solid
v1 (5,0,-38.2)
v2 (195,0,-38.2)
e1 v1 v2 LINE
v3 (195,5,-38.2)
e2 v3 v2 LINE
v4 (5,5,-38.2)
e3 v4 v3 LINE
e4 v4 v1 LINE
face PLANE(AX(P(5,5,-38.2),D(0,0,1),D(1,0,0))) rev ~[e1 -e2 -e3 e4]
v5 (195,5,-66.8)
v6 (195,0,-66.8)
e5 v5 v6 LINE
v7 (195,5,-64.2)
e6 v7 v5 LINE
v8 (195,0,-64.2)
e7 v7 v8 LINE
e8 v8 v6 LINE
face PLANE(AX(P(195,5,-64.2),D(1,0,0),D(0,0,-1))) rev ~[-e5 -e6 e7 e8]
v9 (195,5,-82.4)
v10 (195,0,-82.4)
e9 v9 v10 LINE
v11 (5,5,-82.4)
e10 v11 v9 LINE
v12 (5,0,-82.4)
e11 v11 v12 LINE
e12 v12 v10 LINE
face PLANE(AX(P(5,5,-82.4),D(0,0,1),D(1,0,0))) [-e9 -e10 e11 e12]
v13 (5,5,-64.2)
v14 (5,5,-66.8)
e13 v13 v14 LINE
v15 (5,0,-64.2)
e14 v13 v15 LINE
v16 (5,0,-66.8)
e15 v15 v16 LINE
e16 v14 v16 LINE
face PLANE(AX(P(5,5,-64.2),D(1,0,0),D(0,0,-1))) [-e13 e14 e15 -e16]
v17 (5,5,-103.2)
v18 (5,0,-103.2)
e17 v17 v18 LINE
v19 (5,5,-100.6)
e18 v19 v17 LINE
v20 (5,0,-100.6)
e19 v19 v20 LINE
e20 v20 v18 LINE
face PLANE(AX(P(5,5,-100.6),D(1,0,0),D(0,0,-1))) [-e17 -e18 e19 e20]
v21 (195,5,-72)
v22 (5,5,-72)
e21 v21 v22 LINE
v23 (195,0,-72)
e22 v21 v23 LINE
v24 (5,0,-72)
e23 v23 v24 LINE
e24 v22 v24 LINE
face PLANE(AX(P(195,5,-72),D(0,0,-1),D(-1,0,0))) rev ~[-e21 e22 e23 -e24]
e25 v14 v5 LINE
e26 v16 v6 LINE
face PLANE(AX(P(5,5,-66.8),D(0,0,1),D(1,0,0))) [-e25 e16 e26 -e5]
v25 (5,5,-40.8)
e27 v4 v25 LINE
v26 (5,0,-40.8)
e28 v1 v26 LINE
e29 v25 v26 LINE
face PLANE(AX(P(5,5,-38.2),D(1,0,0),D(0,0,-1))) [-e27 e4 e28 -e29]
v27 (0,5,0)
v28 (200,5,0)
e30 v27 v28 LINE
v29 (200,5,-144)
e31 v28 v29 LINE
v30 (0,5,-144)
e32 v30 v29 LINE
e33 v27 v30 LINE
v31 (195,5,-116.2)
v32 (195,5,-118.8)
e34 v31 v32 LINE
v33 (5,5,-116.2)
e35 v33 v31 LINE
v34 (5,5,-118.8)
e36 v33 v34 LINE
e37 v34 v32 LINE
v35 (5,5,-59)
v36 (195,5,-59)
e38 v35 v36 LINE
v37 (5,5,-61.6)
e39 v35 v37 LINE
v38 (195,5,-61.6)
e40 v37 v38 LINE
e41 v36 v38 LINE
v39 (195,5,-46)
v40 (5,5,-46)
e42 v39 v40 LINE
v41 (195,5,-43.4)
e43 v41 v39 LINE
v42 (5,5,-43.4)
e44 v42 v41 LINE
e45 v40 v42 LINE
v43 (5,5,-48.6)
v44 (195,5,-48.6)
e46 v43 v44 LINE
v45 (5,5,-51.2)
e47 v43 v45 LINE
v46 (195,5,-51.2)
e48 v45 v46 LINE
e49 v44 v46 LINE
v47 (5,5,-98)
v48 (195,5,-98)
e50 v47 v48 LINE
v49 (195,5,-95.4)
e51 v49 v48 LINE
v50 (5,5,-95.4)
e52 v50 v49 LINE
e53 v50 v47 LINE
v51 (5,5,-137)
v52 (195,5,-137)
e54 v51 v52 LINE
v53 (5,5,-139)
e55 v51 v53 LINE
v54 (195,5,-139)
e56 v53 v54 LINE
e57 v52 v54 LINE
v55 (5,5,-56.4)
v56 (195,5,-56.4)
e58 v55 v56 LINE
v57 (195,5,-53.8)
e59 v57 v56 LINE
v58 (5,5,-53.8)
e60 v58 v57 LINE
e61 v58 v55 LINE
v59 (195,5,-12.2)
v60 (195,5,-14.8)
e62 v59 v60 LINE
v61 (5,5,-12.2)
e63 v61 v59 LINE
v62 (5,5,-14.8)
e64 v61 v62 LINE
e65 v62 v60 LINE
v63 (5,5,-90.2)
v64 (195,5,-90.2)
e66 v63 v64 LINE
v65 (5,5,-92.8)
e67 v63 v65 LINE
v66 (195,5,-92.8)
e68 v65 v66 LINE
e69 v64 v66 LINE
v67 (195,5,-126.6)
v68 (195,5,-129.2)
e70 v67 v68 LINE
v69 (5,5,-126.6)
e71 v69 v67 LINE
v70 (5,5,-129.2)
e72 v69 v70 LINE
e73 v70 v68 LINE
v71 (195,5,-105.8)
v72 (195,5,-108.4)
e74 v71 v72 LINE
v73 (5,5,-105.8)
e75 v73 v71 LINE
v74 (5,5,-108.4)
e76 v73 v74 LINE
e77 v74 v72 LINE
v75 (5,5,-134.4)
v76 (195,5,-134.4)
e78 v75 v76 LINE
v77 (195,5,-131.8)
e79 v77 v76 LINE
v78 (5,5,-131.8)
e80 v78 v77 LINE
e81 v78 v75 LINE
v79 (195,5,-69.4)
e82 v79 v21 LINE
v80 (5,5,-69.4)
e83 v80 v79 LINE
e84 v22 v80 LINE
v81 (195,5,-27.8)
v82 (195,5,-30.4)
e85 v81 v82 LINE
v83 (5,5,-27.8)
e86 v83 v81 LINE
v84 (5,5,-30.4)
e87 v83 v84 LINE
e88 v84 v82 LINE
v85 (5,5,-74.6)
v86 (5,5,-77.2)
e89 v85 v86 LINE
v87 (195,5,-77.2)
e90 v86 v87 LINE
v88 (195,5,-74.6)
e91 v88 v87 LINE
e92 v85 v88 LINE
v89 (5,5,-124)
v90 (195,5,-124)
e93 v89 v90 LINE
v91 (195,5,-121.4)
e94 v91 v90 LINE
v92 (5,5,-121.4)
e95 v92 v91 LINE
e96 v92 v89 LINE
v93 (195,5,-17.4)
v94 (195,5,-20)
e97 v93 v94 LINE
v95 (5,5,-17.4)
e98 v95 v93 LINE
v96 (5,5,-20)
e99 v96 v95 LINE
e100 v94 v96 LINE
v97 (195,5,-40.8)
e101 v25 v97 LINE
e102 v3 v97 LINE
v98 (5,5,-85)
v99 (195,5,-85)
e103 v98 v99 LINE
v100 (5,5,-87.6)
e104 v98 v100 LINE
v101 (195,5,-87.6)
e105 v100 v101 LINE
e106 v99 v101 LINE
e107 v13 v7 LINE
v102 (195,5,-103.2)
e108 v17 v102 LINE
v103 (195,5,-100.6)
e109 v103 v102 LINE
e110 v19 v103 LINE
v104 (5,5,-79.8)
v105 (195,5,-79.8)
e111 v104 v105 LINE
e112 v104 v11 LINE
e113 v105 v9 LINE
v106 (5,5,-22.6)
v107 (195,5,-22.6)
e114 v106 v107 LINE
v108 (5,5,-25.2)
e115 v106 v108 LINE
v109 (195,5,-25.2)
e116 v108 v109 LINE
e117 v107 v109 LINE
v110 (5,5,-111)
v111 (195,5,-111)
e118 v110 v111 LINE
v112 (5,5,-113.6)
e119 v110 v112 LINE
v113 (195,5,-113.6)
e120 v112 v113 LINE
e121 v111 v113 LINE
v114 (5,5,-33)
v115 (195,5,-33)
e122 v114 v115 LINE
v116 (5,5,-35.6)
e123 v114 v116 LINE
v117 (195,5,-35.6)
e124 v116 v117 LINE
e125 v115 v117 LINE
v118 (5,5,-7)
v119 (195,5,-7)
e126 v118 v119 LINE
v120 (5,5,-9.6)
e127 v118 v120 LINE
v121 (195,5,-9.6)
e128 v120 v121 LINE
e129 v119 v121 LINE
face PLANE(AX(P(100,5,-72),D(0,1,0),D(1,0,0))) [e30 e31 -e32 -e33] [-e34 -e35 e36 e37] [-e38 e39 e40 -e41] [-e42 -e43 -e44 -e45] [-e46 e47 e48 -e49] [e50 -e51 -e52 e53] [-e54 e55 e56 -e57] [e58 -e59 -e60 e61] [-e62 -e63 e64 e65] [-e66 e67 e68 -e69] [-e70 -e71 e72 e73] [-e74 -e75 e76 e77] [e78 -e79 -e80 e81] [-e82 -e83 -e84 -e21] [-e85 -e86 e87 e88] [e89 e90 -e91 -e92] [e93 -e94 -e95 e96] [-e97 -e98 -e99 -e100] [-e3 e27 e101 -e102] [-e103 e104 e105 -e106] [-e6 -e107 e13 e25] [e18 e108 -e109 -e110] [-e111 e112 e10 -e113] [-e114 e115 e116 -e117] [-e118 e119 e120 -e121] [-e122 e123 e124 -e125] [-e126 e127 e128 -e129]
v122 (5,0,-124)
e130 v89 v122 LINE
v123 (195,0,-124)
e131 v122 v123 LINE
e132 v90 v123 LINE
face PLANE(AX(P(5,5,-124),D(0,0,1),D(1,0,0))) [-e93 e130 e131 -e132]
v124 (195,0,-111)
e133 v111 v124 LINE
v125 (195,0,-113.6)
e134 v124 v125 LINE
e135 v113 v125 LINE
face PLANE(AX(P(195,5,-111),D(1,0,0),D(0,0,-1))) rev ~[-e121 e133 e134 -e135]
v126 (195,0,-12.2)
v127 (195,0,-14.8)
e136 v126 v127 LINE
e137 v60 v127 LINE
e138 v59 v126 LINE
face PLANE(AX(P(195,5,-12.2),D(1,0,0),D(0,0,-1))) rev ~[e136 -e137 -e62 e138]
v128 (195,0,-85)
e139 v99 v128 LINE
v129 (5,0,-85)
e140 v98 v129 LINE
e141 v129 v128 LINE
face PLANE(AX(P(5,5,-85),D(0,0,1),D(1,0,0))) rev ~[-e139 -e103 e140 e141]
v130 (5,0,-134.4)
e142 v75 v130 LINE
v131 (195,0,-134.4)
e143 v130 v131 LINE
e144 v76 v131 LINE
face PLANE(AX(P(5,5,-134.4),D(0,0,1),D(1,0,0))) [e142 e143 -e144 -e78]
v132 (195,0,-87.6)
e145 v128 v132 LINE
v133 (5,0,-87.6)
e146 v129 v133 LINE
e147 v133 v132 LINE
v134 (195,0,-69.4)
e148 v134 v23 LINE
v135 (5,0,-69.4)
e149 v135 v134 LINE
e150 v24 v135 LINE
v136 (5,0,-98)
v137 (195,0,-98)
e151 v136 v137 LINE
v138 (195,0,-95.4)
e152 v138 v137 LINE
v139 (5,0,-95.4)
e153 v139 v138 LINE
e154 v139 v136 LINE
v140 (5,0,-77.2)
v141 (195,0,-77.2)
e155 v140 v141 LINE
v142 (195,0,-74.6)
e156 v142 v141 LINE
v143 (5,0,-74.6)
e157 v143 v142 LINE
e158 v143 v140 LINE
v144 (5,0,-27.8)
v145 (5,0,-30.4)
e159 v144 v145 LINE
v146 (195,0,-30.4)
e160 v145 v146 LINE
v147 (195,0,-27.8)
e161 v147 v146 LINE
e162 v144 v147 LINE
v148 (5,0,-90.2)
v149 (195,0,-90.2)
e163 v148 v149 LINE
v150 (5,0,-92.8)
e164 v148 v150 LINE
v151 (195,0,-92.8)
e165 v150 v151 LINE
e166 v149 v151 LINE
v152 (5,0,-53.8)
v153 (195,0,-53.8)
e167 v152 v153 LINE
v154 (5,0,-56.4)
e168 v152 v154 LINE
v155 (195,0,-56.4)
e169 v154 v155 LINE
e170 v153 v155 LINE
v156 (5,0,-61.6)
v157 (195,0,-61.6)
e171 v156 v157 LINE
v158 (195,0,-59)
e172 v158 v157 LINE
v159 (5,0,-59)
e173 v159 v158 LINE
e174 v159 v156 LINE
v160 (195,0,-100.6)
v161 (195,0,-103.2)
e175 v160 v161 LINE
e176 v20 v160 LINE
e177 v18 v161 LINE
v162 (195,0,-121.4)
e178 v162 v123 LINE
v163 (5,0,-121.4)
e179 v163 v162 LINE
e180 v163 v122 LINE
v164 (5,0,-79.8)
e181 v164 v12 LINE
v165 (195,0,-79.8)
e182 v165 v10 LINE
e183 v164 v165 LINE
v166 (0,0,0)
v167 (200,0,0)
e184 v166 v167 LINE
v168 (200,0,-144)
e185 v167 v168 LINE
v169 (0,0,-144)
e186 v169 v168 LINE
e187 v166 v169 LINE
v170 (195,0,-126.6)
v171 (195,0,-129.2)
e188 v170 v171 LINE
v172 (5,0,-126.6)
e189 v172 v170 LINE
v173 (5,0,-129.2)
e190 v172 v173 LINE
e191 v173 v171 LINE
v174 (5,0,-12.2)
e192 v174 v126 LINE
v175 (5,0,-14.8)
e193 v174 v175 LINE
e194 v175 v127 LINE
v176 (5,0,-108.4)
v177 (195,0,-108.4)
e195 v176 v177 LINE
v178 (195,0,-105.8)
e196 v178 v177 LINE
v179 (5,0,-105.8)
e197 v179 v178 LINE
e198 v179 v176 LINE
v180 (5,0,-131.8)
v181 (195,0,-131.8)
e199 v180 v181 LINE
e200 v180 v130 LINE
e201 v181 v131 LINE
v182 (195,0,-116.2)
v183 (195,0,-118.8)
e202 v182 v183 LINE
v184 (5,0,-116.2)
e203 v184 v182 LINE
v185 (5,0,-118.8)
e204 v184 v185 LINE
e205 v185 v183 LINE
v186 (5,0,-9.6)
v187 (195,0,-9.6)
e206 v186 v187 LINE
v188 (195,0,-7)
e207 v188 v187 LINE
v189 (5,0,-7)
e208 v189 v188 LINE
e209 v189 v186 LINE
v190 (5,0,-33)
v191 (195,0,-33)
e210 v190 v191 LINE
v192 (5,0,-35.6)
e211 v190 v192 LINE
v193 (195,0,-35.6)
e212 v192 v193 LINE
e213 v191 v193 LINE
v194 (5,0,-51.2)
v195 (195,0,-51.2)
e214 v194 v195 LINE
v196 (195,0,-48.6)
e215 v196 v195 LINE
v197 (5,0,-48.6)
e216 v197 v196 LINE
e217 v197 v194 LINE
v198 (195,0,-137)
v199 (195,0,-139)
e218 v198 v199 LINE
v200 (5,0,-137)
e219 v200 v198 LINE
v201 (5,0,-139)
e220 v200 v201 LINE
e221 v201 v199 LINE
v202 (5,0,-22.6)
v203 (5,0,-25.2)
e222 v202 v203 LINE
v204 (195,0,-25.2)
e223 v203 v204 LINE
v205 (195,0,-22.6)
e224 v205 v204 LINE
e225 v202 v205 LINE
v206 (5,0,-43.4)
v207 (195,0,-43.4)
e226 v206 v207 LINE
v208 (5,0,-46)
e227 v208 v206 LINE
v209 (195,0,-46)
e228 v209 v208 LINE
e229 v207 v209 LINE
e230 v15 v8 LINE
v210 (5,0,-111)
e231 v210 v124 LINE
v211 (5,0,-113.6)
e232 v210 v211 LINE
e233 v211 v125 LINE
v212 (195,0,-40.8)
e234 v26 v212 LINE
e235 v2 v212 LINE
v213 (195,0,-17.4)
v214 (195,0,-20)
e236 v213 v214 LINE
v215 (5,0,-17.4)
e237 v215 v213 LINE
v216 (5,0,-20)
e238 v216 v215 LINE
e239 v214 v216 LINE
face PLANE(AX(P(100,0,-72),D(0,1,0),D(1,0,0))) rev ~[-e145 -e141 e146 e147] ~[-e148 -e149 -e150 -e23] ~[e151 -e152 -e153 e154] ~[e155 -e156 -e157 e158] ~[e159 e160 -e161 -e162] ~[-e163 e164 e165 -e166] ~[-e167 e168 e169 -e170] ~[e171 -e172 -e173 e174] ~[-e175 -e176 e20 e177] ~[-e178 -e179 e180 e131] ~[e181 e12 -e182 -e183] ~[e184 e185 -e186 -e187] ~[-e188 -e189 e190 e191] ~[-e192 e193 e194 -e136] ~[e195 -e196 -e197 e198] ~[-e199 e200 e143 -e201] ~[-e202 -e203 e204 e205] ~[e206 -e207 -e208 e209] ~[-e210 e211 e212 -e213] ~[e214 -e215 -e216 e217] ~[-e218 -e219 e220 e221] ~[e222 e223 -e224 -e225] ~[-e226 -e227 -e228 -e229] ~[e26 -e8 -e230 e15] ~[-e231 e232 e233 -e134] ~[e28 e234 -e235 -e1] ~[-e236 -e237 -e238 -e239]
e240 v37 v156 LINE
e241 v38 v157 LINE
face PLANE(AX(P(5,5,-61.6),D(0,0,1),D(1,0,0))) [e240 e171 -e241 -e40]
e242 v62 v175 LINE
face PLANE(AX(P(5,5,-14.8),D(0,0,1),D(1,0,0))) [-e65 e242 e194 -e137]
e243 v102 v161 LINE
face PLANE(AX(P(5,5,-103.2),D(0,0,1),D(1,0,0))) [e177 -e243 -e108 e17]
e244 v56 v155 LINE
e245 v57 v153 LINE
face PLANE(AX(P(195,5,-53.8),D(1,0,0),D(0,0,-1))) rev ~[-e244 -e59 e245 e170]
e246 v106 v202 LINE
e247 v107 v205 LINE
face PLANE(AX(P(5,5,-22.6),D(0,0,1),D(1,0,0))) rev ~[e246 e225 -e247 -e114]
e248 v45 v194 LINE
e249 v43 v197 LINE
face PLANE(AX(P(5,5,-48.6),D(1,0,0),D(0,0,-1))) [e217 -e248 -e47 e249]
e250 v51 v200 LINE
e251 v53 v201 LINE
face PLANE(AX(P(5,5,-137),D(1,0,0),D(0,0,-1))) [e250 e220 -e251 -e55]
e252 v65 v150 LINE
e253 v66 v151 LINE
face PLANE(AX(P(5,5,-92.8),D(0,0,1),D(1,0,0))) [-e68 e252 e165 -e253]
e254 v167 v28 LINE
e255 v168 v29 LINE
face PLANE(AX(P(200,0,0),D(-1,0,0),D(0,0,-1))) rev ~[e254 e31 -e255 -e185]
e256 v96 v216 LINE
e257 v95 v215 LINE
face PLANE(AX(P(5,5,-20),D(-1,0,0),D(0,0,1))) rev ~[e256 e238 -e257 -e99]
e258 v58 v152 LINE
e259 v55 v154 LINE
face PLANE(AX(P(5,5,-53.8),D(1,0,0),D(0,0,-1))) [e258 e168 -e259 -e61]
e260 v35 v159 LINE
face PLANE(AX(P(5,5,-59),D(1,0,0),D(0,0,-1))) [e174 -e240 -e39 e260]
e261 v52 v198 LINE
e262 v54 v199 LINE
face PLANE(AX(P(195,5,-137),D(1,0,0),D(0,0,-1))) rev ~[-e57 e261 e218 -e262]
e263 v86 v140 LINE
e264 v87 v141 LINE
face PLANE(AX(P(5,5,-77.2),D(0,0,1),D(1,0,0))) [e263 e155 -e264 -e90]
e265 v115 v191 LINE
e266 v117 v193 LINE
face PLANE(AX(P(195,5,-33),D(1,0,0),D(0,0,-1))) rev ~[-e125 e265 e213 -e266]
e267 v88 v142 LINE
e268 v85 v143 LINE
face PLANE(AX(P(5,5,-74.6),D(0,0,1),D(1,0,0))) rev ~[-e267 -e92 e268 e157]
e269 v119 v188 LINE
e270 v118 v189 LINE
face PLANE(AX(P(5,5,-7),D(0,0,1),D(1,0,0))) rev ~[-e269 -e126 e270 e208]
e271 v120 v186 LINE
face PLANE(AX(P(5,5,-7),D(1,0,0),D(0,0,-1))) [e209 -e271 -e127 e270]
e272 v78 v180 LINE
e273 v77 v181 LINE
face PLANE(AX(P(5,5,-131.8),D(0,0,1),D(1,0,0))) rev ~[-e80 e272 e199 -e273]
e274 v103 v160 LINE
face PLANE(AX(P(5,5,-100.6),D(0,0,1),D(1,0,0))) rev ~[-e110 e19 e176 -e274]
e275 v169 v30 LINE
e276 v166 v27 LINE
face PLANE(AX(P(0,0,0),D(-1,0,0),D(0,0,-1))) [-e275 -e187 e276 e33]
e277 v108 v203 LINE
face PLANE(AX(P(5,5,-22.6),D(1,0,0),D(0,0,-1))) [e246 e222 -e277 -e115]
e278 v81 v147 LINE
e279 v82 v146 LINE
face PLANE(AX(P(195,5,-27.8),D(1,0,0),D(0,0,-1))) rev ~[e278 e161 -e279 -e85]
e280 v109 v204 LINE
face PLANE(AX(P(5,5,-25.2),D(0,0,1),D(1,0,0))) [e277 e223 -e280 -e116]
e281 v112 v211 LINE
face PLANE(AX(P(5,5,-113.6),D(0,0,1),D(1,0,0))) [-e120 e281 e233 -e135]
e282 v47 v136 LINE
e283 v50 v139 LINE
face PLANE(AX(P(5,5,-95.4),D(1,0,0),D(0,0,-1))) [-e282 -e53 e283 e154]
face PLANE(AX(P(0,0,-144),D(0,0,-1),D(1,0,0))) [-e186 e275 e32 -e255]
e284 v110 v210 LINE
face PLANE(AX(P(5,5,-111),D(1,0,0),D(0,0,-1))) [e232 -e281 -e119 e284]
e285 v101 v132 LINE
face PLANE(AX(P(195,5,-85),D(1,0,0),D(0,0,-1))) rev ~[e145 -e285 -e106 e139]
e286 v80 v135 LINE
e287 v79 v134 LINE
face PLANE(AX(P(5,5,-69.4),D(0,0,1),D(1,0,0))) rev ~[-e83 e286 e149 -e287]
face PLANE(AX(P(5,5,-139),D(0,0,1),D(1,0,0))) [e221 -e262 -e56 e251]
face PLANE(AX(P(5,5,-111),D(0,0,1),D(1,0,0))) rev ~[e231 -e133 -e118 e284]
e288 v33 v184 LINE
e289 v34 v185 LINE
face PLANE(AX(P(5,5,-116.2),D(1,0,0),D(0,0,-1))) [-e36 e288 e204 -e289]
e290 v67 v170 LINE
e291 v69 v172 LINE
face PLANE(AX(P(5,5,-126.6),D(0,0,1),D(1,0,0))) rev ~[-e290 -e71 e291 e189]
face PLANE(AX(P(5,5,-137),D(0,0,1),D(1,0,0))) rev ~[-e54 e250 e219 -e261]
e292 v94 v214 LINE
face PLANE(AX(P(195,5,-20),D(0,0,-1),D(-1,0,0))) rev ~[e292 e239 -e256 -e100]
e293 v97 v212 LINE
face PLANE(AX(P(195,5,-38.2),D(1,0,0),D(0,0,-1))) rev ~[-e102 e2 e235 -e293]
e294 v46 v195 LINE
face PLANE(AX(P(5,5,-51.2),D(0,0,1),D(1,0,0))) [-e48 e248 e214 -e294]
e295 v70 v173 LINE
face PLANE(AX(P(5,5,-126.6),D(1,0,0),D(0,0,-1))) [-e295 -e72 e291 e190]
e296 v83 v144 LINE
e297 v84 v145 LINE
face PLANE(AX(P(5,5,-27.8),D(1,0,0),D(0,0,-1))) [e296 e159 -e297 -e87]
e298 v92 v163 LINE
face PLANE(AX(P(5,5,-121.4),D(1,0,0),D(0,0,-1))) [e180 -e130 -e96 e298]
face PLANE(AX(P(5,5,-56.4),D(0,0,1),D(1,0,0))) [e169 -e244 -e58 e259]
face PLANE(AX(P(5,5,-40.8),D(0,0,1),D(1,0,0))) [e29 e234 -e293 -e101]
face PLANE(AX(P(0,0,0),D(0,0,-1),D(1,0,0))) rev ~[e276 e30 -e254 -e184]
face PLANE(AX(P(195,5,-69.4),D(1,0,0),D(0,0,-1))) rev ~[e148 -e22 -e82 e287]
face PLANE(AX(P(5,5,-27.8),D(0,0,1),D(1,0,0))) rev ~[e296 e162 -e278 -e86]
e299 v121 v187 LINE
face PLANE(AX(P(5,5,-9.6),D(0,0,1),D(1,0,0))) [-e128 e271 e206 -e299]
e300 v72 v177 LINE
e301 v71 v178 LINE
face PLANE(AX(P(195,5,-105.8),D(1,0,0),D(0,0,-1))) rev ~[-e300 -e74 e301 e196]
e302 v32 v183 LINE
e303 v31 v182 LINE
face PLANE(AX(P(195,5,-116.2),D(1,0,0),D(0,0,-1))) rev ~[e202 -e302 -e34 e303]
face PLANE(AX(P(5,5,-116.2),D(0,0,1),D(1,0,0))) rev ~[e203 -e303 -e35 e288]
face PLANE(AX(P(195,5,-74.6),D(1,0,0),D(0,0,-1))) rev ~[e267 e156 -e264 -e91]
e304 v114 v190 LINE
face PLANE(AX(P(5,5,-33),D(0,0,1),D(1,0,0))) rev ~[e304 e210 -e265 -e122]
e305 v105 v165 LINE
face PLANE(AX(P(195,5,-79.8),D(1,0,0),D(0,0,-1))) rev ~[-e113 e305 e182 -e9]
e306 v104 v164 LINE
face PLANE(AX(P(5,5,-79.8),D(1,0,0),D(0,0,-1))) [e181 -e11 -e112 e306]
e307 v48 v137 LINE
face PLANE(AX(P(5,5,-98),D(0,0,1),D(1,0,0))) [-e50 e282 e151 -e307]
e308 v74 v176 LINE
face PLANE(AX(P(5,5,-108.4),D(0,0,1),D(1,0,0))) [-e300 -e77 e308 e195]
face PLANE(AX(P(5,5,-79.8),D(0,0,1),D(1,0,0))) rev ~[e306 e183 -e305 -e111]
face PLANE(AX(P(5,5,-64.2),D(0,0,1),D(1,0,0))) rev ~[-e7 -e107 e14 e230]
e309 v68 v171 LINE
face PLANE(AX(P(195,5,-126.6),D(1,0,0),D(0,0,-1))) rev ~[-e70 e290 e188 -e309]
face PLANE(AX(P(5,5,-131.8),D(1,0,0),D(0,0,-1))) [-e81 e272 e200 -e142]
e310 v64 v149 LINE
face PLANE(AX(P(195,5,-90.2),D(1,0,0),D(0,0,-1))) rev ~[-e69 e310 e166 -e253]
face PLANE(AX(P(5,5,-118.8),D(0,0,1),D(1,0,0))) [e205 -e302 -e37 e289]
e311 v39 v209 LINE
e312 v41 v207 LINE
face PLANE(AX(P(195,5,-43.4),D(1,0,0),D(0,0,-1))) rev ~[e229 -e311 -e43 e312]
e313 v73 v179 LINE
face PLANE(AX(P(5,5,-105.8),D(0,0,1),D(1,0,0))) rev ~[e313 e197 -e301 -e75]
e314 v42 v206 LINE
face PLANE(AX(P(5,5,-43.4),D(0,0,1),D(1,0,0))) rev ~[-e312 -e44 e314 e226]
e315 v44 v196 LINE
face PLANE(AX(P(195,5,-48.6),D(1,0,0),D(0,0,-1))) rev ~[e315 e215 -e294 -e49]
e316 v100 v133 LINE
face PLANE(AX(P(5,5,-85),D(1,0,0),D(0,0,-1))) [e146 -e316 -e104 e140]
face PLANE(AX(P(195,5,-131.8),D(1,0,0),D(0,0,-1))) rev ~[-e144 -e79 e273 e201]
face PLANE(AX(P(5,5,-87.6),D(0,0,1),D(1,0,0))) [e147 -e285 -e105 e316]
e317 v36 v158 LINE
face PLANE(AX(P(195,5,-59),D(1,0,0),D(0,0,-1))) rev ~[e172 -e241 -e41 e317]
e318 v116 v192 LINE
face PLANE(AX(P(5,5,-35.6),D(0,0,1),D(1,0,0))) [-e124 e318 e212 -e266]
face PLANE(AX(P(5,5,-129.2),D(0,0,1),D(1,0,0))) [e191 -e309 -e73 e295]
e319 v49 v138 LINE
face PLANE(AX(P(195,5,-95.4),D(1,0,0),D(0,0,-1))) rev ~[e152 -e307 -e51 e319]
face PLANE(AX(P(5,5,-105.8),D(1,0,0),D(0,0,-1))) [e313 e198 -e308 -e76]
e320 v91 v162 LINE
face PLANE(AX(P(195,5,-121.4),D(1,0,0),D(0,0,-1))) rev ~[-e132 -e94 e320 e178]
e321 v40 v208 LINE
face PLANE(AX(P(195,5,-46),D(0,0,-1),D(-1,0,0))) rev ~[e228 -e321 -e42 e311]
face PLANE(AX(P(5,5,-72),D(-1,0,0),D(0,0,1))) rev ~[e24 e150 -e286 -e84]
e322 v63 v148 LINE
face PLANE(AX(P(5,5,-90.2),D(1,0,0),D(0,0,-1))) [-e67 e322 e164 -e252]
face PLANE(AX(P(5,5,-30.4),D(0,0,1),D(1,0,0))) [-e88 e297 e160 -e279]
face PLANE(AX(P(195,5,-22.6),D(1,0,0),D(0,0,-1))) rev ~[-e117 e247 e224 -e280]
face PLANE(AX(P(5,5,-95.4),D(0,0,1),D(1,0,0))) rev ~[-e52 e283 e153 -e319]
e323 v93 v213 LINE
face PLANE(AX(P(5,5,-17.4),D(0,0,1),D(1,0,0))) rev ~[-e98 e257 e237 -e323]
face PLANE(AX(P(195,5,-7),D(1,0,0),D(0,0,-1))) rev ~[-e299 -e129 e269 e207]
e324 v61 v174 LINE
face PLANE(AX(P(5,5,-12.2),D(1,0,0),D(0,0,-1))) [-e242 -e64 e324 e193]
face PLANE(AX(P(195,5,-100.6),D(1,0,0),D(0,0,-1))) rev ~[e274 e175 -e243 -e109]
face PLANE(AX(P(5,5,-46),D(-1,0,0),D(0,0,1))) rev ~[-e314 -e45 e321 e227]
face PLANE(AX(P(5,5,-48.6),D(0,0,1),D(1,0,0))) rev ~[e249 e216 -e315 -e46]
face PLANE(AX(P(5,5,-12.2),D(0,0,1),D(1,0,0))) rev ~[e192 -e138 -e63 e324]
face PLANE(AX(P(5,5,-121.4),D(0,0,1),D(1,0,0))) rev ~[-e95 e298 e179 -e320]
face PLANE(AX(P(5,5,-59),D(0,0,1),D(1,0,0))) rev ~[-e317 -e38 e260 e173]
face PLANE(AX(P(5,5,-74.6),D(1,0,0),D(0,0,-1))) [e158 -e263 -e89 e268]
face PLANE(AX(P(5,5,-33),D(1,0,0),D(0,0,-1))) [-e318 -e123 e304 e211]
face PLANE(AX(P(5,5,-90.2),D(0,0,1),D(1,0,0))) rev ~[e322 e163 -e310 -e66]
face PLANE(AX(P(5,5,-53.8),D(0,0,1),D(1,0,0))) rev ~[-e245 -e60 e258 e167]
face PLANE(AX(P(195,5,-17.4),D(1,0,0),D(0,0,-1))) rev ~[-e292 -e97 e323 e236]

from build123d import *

# Parameters (mm, degrees)
SKETCH1_W           = 200
SKETCH1_H           = 144
BOSS_EXTRUDE1_DEPTH = 5
SKETCH2_W           = 190
SKETCH2_H           = 2
SKETCH2_H_2         = 2.6
CUT_EXTRUDE1_DEPTH  = 5


with BuildPart() as part:
    # Sketch1 → Boss-Extrude1 (new body)
    with BuildSketch(Plane(origin=(0, 0, 0), x_dir=(1, 0, 0), z_dir=(0, 1, 0))):
        with Locations((100, 72)):
            Rectangle(SKETCH1_W, SKETCH1_H)
    extrude(amount=BOSS_EXTRUDE1_DEPTH)

    # Sketch2 → Cut-Extrude1 (cut)
    with BuildSketch(Plane(origin=(0, 5, 0), x_dir=(1, 0, 0), z_dir=(0, 1, 0))):
        with Locations((100, 138)):
            Rectangle(SKETCH2_W, SKETCH2_H)
        with Locations((100, 133.1)):
            Rectangle(SKETCH2_W, SKETCH2_H_2)
        with Locations((100, 127.9)):
            Rectangle(SKETCH2_W, SKETCH2_H_2)
        with Locations((100, 122.7)):
            Rectangle(SKETCH2_W, SKETCH2_H_2)
        with Locations((100, 117.5)):
            Rectangle(SKETCH2_W, SKETCH2_H_2)
        with Locations((100, 112.3)):
            Rectangle(SKETCH2_W, SKETCH2_H_2)
        with Locations((100, 107.1)):
            Rectangle(SKETCH2_W, SKETCH2_H_2)
        with Locations((100, 101.9)):
            Rectangle(SKETCH2_W, SKETCH2_H_2)
        with Locations((100, 96.7)):
            Rectangle(SKETCH2_W, SKETCH2_H_2)
        with Locations((100, 91.5)):
            Rectangle(SKETCH2_W, SKETCH2_H_2)
        with Locations((100, 86.3)):
            Rectangle(SKETCH2_W, SKETCH2_H_2)
        with Locations((100, 81.1)):
            Rectangle(SKETCH2_W, SKETCH2_H_2)
        with Locations((100, 75.9)):
            Rectangle(SKETCH2_W, SKETCH2_H_2)
        Polygon((195, 72), (5, 72), (5, 70.934071529), (5, 69.4), (195, 69.4), align=None)
        with Locations((100, 65.5)):
            Rectangle(SKETCH2_W, SKETCH2_H_2)
        with Locations((100, 60.3)):
            Rectangle(SKETCH2_W, SKETCH2_H_2)
        with Locations((100, 55.1)):
            Rectangle(SKETCH2_W, SKETCH2_H_2)
        with Locations((100, 49.9)):
            Rectangle(SKETCH2_W, SKETCH2_H_2)
        Polygon((195, 45.599396022), (195, 46), (5, 46), (5, 45.599396022), (5, 43.4), (195, 43.4), align=None)
        with Locations((100, 39.5)):
            Rectangle(SKETCH2_W, SKETCH2_H_2)
        with Locations((100, 34.3)):
            Rectangle(SKETCH2_W, SKETCH2_H_2)
        with Locations((100, 29.1)):
            Rectangle(SKETCH2_W, SKETCH2_H_2)
        with Locations((100, 23.9)):
            Rectangle(SKETCH2_W, SKETCH2_H_2)
        Polygon((195, 18.455100837), (195, 20), (5, 20), (5, 17.4), (195, 17.4), align=None)
        with Locations((100, 13.5)):
            Rectangle(SKETCH2_W, SKETCH2_H_2)
        with Locations((100, 8.3)):
            Rectangle(SKETCH2_W, SKETCH2_H_2)
    extrude(amount=-CUT_EXTRUDE1_DEPTH, mode=Mode.SUBTRACT)


solid = part.part
